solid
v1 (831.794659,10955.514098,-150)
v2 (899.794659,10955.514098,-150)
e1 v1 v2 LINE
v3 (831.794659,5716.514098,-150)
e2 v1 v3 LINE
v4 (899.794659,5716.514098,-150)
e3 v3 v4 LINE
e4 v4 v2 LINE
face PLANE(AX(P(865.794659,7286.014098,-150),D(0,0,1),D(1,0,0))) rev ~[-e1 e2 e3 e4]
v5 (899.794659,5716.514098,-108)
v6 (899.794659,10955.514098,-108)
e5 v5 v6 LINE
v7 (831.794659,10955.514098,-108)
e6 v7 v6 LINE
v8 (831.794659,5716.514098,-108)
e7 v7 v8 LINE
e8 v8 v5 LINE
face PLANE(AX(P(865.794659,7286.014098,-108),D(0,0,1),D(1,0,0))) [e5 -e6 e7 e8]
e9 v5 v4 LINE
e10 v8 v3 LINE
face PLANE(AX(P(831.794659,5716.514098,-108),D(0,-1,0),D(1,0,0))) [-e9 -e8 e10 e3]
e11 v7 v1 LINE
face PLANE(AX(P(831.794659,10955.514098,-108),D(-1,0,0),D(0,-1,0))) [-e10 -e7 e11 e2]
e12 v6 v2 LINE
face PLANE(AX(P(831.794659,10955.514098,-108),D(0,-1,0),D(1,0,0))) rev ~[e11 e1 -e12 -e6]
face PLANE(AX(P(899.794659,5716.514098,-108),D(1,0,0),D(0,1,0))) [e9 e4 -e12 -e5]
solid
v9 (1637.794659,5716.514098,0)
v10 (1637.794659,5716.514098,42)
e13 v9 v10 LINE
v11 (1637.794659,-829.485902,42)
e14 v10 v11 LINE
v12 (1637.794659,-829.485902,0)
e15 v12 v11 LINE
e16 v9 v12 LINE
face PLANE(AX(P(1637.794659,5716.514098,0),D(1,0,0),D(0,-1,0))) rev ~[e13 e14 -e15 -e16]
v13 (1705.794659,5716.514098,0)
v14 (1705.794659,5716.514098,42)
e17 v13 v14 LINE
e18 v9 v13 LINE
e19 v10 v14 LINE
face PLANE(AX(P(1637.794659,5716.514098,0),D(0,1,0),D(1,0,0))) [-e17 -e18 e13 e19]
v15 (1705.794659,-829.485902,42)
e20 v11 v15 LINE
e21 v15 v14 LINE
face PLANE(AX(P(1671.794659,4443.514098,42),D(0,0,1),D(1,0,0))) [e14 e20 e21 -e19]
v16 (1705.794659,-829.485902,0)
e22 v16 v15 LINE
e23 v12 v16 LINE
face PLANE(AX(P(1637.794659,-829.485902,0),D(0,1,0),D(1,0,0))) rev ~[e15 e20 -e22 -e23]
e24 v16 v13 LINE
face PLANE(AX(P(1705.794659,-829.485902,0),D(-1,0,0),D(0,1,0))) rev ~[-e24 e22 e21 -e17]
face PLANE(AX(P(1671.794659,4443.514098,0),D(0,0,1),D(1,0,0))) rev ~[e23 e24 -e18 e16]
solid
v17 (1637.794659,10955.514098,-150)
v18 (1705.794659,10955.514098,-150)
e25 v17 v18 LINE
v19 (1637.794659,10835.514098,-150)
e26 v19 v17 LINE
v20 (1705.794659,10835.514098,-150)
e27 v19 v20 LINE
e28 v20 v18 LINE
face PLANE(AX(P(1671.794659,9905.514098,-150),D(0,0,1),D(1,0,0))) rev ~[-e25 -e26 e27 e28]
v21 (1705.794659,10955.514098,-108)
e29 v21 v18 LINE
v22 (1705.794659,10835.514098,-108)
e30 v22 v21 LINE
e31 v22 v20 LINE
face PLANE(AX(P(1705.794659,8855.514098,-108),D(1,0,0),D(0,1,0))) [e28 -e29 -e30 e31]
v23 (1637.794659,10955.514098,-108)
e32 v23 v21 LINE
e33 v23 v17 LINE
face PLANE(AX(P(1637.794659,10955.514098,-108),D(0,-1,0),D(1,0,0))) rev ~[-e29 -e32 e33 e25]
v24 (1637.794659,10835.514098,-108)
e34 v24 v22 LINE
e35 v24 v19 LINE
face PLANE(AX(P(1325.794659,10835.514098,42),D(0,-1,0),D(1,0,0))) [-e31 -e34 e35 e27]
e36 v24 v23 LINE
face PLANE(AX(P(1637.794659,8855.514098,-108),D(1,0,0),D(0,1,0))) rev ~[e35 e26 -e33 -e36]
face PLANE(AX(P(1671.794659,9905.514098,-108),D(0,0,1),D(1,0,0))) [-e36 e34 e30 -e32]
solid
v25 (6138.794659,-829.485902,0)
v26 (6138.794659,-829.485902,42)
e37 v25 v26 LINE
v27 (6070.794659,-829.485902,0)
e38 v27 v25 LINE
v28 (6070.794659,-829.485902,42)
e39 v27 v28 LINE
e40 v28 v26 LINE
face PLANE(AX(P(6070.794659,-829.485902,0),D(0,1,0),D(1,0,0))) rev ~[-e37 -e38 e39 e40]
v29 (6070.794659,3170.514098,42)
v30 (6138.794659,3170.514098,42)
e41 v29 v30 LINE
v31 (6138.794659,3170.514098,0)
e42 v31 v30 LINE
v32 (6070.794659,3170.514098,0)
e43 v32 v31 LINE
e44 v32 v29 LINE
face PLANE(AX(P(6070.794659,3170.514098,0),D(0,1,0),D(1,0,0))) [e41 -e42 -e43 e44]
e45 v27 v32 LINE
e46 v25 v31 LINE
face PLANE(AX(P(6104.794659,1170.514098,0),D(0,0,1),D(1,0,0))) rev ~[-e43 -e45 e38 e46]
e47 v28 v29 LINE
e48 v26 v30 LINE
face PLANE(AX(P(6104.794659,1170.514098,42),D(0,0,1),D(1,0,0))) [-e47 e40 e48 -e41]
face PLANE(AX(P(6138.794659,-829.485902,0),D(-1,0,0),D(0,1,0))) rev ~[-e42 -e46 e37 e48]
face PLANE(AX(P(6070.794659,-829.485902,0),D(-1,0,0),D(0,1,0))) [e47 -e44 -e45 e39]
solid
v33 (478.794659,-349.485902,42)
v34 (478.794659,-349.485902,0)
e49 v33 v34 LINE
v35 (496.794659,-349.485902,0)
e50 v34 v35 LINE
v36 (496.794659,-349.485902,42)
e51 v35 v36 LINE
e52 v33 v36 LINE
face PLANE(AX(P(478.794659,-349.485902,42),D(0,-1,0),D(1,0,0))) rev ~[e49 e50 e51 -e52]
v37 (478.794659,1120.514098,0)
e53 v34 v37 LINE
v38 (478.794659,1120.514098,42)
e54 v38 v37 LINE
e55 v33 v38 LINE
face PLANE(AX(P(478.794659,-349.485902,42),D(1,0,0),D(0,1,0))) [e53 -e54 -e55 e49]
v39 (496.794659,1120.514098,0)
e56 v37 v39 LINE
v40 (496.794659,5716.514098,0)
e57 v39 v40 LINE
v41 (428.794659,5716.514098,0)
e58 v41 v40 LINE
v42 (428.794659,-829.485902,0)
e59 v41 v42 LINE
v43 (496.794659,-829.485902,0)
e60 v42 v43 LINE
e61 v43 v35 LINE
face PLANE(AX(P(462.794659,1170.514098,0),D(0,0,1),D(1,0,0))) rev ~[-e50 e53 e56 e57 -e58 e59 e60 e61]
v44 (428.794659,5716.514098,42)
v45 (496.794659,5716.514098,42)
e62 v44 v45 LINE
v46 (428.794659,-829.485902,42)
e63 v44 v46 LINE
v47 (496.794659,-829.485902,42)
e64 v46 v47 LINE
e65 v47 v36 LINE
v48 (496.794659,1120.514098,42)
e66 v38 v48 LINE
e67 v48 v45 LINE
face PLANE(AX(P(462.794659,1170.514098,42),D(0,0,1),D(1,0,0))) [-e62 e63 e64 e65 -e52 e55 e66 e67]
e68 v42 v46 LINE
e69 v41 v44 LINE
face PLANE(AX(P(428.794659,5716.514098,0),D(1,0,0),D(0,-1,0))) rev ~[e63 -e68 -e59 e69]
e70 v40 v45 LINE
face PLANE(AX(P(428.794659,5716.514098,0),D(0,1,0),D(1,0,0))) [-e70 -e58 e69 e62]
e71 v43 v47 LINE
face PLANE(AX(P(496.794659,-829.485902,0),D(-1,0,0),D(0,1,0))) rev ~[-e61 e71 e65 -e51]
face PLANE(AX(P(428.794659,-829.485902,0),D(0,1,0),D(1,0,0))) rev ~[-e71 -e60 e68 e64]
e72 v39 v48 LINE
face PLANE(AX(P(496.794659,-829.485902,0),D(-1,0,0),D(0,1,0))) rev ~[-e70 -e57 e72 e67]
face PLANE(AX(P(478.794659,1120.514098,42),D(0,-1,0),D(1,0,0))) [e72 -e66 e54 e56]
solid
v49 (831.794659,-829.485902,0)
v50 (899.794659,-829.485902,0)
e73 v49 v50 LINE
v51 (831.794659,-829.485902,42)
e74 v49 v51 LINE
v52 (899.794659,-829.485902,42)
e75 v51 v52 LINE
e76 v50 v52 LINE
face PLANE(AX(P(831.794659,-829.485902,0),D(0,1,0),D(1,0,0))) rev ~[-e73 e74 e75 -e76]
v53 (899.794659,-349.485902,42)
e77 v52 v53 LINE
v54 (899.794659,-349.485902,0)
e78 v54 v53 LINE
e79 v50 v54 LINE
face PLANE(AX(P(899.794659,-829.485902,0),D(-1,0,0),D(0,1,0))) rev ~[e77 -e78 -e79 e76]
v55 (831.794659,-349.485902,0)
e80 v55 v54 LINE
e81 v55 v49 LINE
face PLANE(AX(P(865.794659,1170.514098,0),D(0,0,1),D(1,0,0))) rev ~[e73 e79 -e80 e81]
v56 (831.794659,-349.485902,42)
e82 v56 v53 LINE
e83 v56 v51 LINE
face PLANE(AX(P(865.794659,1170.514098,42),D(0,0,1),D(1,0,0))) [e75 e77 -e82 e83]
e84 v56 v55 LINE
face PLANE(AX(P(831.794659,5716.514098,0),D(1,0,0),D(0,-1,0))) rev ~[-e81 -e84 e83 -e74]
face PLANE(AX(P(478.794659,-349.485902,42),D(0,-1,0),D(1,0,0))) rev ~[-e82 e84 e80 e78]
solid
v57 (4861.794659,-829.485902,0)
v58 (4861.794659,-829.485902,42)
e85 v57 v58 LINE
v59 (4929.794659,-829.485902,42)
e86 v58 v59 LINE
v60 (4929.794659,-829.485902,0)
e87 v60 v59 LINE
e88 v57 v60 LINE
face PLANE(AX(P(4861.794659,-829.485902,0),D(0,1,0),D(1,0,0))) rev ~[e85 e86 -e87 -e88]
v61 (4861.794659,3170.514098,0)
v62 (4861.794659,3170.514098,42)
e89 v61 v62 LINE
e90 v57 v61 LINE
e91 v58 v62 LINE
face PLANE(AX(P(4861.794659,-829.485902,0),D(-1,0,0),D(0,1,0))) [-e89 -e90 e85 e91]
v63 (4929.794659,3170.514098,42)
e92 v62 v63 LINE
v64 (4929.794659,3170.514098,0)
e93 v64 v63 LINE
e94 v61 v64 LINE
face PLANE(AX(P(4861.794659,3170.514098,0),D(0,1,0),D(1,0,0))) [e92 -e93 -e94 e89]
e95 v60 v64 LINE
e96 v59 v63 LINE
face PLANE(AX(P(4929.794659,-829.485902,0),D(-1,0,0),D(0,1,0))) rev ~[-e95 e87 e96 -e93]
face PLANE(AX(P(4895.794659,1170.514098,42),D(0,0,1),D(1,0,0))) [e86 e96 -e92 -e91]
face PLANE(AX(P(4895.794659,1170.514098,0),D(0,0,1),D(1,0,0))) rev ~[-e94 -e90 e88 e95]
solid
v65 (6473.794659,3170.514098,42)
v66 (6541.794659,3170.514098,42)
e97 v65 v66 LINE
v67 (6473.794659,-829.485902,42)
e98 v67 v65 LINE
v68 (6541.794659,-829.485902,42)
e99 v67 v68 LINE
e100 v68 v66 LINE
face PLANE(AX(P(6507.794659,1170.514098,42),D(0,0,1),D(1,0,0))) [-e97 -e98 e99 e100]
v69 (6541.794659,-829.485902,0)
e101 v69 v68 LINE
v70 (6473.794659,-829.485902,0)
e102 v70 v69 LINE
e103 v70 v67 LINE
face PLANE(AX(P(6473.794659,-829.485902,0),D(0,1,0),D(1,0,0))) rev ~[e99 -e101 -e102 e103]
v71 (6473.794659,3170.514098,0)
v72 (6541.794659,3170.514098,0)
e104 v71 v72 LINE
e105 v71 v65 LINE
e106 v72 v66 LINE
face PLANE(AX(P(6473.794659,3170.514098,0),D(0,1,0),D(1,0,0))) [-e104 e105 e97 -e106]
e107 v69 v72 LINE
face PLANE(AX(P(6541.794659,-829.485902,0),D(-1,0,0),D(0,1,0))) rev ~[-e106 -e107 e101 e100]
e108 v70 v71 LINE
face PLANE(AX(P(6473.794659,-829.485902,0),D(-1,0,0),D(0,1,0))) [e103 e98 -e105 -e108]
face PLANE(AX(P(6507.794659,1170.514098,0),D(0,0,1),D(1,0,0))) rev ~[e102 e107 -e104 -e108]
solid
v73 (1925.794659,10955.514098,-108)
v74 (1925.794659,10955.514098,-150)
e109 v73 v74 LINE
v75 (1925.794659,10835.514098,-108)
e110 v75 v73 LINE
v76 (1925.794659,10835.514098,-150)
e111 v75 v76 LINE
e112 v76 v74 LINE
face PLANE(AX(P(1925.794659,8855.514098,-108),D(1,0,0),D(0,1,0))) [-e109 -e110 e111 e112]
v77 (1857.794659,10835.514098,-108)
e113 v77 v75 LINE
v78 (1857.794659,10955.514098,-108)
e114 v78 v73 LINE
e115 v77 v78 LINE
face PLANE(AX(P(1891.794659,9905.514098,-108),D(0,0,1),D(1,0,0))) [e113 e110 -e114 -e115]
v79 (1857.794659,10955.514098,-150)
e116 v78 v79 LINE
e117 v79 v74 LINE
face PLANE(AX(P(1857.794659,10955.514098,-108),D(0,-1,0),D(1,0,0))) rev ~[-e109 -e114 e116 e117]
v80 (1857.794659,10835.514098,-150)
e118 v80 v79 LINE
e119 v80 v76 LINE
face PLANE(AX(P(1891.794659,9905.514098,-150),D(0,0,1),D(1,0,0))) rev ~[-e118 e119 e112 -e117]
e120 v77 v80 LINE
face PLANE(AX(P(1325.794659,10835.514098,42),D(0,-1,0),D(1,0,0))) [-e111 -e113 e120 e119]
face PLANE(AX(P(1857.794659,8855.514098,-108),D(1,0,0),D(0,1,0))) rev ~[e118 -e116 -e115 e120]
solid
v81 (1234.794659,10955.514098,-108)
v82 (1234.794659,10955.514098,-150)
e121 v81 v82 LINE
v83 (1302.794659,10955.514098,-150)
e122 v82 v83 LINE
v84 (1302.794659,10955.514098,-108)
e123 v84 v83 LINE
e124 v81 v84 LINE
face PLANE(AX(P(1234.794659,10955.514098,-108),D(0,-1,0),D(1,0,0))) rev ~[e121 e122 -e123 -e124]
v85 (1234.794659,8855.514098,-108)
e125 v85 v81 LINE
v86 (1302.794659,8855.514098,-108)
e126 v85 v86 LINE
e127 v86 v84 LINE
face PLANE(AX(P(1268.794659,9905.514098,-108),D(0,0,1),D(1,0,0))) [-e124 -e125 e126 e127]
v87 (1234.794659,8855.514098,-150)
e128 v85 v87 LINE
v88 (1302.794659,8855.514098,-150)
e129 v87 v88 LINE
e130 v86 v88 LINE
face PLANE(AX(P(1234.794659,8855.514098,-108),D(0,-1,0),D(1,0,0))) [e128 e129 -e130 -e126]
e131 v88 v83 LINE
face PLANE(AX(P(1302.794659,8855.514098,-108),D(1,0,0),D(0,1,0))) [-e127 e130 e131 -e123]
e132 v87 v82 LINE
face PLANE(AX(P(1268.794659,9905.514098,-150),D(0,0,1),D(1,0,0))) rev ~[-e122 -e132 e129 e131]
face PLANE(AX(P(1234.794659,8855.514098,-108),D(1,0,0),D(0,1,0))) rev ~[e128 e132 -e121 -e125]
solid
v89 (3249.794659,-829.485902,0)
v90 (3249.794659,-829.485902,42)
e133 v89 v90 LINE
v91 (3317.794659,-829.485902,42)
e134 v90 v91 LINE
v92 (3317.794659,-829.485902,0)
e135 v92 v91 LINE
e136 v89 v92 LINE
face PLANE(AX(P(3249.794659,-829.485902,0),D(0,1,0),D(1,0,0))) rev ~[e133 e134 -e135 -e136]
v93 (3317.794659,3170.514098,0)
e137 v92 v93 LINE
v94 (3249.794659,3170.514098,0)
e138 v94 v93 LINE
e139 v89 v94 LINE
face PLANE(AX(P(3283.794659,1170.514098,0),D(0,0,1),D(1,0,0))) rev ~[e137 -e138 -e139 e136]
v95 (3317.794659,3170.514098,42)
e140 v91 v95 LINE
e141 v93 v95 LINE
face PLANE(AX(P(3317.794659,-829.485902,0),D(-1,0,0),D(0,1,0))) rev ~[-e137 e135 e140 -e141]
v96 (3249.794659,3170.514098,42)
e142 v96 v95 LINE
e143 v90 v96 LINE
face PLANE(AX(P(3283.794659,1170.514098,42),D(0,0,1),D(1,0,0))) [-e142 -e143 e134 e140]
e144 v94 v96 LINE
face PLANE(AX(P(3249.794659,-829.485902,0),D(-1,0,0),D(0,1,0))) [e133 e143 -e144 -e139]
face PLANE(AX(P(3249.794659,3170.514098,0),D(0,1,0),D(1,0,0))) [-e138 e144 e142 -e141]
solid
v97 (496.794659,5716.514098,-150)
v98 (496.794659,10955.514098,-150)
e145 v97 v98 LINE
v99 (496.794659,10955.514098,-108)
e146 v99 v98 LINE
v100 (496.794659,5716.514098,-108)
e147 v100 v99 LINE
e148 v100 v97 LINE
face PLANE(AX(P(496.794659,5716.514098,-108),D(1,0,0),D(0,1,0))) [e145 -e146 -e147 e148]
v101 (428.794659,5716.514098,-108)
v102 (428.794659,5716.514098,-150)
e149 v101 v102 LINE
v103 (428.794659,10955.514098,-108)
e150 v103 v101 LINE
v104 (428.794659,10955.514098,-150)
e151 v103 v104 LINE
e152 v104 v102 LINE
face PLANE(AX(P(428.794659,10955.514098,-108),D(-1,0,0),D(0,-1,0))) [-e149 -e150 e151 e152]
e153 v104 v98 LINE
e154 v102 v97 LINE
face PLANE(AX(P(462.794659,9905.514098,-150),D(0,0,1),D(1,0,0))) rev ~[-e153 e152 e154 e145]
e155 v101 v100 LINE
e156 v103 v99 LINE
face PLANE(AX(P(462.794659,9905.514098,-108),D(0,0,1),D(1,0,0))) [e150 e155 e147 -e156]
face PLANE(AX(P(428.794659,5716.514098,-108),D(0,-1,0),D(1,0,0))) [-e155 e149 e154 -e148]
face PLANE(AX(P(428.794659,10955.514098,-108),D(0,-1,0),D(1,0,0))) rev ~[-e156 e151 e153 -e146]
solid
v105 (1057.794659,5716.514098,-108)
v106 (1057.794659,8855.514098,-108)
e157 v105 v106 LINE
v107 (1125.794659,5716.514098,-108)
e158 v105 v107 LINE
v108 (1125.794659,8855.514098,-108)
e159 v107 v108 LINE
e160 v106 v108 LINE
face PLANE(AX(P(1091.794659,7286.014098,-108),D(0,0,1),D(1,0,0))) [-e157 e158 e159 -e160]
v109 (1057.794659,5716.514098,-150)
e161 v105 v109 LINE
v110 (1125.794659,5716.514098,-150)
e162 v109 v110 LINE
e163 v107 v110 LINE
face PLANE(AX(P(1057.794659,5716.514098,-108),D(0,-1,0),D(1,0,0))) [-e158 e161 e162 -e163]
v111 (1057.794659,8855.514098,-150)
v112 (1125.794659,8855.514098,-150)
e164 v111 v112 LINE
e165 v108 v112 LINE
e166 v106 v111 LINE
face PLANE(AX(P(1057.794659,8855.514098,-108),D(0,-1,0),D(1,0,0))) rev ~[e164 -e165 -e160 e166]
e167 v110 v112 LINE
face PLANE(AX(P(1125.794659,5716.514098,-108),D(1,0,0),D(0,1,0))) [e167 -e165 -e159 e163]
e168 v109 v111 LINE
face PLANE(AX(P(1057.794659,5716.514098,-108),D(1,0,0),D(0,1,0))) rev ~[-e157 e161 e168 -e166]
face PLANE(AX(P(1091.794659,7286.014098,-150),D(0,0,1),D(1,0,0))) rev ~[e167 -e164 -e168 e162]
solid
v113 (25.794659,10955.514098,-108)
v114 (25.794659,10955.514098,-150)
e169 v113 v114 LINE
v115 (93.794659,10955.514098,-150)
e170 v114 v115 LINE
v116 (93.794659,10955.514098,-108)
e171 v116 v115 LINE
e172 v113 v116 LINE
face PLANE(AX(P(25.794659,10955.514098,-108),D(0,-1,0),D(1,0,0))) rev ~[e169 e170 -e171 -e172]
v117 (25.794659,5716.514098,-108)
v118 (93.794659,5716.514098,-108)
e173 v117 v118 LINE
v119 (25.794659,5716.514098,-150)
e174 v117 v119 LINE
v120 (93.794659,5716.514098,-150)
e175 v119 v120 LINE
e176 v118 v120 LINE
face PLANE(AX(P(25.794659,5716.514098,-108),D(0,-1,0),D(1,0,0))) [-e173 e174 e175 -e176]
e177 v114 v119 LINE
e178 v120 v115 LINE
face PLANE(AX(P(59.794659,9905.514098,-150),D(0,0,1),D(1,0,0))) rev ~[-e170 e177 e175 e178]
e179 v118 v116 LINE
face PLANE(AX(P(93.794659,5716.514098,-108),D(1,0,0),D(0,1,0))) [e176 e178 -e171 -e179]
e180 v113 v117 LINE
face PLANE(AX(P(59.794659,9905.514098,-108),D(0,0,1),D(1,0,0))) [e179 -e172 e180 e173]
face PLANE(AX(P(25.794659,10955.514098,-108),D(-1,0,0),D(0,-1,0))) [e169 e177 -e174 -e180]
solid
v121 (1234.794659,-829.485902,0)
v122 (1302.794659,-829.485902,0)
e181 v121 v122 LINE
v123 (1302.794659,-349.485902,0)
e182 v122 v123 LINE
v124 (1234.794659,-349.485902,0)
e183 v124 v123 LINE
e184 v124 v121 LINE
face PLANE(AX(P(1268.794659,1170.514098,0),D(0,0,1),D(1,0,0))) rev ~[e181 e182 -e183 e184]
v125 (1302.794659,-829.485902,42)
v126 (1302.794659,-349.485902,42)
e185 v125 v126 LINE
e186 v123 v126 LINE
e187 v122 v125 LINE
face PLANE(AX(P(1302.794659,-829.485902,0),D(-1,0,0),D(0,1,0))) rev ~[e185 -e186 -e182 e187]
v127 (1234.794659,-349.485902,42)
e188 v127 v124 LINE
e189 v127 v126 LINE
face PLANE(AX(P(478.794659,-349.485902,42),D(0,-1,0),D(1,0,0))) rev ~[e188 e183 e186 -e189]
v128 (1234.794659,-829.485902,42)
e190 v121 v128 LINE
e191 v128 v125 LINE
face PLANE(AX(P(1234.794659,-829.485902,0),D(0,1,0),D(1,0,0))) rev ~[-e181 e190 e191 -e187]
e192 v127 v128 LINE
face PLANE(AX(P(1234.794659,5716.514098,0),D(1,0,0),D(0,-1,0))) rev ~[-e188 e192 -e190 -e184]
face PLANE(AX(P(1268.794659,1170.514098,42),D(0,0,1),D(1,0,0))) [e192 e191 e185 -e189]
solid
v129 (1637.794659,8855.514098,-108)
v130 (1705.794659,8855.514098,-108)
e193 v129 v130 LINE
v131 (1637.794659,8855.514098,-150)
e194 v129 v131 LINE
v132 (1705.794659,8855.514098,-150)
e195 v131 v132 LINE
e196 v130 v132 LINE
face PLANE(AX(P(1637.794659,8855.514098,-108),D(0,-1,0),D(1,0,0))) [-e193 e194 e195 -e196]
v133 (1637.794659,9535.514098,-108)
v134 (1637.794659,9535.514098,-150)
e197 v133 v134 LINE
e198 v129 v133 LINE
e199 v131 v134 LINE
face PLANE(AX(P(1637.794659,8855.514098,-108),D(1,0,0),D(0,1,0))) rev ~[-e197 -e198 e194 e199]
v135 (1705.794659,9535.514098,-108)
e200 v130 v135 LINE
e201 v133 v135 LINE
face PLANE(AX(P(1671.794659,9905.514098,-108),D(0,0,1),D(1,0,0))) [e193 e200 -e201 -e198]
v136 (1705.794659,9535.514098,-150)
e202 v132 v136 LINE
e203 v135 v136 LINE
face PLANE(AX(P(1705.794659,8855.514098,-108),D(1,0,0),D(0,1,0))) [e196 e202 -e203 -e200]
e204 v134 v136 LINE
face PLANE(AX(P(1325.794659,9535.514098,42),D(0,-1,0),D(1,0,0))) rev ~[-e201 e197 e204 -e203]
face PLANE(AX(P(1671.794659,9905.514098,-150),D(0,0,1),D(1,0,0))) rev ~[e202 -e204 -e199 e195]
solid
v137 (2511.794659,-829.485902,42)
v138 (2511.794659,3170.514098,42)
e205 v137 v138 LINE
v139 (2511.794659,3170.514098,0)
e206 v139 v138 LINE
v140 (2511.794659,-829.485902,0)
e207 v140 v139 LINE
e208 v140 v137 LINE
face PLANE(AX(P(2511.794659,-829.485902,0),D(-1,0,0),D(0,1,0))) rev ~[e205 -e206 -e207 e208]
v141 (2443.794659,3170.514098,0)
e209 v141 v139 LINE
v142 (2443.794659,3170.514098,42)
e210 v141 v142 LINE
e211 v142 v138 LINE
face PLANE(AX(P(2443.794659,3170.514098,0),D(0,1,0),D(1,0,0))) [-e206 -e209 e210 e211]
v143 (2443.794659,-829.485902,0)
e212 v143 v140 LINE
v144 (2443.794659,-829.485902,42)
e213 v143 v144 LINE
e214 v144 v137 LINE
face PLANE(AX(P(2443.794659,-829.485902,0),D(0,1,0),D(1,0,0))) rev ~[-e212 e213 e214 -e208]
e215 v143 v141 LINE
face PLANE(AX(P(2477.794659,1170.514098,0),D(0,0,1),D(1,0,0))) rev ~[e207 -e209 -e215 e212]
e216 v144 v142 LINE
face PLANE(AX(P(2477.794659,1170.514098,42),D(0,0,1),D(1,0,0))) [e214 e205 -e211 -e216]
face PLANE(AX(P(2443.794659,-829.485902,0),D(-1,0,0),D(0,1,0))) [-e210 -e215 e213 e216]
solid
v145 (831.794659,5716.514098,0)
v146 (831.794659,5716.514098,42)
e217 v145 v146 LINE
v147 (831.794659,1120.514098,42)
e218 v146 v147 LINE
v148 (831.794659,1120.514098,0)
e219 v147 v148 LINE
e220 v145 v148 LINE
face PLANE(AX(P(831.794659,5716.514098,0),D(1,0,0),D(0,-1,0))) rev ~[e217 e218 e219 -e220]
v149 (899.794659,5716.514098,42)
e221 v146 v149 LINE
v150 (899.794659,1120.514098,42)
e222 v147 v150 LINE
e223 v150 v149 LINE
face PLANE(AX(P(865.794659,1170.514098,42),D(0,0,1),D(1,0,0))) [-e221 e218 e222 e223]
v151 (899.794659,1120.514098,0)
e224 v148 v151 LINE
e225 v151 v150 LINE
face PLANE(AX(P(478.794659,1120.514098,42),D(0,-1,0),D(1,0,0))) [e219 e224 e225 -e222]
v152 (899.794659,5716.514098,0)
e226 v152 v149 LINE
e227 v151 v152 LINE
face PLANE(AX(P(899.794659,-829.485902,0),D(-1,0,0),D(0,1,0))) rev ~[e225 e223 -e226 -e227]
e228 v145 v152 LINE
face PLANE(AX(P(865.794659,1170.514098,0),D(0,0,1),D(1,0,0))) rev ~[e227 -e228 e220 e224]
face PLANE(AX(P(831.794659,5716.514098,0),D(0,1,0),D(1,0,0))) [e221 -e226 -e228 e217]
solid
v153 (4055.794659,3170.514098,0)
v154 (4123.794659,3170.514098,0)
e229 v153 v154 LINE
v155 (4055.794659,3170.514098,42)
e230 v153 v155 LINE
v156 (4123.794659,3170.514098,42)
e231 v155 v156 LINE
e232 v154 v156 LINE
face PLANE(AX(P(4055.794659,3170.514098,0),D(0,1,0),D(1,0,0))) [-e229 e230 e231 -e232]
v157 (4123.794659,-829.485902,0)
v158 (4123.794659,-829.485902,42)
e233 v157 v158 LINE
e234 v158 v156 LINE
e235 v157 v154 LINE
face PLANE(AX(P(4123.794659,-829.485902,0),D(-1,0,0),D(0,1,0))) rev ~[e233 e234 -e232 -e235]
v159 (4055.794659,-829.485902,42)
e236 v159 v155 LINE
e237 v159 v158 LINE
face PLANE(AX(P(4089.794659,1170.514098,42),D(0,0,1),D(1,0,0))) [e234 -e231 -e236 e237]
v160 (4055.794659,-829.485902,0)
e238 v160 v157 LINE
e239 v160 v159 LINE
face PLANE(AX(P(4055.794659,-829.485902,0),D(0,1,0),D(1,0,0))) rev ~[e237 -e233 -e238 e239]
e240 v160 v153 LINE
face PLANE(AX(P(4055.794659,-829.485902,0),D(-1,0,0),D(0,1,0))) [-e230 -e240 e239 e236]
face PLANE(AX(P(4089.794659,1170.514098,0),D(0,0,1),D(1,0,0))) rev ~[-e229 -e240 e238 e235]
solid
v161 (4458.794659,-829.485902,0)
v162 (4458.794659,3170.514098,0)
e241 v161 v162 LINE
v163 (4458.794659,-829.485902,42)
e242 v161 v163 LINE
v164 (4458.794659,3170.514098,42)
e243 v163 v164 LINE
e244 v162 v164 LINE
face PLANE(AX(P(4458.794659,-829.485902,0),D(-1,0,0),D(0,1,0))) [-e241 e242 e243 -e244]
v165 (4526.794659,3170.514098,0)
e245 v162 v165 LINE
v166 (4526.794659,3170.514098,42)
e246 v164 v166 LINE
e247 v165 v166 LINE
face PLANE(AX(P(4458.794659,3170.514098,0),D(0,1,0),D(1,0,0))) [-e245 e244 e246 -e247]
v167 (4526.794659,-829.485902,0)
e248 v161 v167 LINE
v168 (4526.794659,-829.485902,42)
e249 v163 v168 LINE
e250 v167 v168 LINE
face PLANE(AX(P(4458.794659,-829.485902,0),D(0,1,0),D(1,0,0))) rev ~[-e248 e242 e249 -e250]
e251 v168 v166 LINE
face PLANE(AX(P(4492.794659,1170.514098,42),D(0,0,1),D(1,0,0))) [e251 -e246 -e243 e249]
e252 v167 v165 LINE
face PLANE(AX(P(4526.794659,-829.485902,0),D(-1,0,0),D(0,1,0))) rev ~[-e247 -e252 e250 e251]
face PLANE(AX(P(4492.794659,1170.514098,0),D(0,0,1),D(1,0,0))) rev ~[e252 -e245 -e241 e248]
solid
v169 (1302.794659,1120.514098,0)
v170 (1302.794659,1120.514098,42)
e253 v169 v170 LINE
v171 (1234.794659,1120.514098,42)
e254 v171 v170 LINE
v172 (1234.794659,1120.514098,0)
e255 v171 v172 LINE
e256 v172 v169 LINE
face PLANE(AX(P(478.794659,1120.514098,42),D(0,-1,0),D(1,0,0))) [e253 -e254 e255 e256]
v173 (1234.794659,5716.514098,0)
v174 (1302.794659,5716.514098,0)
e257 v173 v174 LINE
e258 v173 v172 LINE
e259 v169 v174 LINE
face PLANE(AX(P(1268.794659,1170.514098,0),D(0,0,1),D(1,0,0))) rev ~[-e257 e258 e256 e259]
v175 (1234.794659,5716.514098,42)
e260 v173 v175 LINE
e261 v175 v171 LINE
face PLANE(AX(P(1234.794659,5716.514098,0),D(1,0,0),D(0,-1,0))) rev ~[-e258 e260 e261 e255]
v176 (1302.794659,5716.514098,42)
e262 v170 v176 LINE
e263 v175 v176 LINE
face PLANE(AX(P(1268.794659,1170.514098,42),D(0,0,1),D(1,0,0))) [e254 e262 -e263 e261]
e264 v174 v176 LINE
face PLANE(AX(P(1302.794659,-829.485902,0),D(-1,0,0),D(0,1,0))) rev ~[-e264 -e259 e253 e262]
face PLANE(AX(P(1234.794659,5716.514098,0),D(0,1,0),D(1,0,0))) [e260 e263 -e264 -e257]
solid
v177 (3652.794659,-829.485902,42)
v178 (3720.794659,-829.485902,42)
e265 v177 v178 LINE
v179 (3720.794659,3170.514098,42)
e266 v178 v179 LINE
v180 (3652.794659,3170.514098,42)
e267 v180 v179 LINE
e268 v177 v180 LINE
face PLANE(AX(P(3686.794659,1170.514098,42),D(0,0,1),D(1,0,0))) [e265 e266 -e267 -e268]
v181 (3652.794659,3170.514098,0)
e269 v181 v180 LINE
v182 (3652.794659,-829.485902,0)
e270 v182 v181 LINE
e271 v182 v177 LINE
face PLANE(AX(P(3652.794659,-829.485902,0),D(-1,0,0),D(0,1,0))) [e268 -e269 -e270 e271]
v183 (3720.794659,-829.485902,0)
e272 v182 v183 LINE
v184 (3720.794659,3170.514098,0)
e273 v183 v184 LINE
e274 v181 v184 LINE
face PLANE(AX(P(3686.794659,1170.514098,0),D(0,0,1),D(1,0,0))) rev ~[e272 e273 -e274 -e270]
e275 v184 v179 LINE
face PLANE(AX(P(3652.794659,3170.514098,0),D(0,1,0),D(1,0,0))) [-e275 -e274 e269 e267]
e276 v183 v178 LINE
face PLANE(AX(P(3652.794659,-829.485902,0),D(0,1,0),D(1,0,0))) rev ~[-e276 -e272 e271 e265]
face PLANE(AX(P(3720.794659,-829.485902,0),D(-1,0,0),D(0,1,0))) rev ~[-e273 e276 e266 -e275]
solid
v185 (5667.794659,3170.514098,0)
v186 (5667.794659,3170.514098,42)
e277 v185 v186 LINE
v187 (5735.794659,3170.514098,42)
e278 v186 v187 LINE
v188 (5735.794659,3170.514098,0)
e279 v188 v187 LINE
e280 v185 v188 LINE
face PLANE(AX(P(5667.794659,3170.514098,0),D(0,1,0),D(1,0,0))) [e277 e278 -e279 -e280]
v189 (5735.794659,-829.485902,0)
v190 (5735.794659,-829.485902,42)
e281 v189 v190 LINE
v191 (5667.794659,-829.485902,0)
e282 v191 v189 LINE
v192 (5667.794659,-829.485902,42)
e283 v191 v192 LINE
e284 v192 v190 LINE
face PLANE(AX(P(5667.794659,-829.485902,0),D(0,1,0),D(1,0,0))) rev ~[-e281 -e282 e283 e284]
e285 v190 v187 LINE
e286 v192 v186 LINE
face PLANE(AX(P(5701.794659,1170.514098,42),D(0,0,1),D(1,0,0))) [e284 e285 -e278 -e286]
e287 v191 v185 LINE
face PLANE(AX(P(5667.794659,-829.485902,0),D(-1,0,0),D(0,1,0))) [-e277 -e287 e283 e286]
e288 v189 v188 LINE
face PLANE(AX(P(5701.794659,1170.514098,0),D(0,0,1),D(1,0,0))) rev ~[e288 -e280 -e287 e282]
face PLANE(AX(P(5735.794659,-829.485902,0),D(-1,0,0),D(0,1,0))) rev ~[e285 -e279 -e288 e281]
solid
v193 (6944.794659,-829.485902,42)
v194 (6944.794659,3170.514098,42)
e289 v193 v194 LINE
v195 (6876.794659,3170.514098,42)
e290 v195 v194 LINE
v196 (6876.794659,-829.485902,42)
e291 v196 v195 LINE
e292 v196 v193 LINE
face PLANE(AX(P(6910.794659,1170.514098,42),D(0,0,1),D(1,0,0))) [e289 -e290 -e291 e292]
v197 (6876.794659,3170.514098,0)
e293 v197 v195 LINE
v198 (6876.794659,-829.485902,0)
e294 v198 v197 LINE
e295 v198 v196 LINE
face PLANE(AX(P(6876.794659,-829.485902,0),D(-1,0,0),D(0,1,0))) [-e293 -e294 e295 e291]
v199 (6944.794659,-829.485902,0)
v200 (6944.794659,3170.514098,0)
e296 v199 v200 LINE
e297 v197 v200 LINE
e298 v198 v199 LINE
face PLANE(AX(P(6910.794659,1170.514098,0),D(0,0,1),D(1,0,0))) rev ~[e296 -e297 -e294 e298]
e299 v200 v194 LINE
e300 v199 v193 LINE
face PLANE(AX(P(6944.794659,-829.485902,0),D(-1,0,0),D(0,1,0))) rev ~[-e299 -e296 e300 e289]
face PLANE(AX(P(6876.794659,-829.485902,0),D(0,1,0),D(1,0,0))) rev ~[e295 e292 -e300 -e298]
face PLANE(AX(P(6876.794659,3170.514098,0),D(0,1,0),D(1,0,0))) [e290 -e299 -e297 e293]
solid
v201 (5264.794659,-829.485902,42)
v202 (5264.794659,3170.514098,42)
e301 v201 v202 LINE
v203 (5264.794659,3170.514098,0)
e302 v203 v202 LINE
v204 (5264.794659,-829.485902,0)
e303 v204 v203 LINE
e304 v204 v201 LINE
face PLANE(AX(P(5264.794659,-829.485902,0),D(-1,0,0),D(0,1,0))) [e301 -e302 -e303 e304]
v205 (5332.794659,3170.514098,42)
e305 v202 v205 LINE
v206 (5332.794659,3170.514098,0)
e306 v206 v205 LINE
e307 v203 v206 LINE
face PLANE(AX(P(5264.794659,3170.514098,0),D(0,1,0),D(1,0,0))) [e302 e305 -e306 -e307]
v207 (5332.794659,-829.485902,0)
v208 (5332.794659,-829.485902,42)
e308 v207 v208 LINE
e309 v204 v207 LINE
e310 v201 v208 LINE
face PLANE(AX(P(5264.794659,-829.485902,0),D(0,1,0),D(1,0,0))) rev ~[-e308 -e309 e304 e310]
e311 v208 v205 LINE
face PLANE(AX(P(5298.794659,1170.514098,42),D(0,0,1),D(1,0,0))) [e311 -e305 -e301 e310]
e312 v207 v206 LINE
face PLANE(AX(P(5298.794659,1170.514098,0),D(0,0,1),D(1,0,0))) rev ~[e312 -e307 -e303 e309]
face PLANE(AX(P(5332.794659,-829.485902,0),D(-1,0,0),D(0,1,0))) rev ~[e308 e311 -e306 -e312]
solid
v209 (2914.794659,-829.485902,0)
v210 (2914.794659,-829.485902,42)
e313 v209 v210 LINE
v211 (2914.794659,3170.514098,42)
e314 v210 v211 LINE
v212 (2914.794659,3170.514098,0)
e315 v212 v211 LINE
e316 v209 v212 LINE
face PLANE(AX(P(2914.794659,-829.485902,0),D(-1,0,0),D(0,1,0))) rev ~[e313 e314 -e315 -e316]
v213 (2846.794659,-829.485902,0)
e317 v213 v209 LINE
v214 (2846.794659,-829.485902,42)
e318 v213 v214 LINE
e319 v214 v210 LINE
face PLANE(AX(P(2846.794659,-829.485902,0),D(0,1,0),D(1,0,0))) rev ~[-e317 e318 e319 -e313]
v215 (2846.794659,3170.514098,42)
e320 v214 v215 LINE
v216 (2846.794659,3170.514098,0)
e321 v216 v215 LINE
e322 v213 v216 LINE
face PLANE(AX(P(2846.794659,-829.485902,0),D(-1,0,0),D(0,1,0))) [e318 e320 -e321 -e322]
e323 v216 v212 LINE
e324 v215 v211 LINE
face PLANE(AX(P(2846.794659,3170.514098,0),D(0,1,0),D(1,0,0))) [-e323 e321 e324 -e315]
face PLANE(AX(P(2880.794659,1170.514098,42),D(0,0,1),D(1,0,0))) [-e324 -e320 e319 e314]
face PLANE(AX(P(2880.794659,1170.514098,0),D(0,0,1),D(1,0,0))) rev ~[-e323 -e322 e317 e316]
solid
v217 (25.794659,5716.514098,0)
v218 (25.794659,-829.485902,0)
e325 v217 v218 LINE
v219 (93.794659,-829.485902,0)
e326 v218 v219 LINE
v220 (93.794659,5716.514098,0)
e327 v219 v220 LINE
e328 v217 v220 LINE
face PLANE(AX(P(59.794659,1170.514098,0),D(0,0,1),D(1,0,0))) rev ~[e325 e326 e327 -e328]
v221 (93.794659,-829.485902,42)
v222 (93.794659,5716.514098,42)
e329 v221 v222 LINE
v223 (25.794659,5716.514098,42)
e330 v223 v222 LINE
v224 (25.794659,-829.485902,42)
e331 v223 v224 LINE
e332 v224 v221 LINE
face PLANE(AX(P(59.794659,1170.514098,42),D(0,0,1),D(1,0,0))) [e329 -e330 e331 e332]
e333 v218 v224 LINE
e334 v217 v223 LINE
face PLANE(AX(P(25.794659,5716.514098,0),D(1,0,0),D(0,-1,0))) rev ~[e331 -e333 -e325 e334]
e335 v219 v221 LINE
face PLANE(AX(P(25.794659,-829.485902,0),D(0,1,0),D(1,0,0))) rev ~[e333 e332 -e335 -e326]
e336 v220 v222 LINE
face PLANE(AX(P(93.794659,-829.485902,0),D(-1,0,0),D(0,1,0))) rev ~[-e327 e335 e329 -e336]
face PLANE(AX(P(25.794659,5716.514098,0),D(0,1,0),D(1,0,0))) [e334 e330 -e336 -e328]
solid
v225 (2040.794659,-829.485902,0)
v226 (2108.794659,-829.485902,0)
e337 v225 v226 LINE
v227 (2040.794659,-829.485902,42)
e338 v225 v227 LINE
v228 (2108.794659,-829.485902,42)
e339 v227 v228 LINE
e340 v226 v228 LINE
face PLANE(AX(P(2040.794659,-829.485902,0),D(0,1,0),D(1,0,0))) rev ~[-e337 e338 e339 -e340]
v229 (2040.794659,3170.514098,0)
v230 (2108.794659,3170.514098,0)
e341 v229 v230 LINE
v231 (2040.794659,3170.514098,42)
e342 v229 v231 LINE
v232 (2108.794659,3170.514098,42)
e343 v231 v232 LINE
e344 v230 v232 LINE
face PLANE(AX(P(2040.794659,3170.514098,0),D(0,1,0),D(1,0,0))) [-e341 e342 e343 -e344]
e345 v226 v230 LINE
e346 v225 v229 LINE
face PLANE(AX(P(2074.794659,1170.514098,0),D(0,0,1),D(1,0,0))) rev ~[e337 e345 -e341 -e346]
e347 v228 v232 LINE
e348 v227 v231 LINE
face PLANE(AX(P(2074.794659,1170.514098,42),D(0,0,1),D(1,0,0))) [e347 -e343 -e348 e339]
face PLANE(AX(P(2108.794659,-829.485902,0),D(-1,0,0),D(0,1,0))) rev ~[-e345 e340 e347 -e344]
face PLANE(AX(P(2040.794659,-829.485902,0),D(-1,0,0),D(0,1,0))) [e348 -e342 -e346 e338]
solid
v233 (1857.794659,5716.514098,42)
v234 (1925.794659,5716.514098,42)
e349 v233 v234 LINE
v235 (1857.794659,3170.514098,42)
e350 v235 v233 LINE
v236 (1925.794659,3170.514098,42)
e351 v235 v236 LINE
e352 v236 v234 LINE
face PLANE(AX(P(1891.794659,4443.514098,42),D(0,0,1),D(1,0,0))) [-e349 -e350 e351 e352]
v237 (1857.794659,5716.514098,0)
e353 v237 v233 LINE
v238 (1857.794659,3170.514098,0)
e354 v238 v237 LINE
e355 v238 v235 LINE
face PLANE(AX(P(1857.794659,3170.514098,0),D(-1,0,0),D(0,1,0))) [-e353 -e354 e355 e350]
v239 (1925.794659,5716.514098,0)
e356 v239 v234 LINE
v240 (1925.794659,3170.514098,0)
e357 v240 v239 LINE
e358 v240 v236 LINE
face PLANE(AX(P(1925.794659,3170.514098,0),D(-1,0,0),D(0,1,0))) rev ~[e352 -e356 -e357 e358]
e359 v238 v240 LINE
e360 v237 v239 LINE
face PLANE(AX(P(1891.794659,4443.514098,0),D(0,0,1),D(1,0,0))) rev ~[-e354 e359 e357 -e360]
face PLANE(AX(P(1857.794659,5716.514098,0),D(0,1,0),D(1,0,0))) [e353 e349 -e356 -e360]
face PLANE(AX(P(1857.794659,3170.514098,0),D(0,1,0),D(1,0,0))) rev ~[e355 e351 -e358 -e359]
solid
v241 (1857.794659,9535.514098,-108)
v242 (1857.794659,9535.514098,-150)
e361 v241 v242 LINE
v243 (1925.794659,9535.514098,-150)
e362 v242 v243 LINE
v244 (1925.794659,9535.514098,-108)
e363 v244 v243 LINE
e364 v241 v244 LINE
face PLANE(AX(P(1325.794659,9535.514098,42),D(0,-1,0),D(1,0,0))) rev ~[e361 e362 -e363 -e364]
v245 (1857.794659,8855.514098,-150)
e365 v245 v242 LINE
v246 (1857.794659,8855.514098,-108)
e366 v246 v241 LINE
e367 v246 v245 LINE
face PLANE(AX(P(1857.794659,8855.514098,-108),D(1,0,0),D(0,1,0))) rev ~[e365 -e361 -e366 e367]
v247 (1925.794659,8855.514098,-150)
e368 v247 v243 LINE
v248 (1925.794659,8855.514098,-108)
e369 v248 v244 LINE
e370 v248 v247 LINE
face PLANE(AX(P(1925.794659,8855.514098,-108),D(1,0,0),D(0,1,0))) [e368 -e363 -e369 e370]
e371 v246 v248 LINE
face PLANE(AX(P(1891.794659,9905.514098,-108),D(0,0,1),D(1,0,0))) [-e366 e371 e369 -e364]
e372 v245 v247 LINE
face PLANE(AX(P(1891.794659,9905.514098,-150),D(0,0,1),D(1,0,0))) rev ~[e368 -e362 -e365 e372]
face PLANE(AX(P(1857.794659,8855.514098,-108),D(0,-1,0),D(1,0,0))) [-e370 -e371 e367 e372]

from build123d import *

# Parameters (mm, degrees)
F0_W     = 68
F0_H     = 4000
F0_H_2   = 2546
F1_DEPTH = 42
F2_START = -108
F0_H_3   = 2100
F2_DEPTH = 42
F0_H_4   = 3139
F3_W     = 600
F3_H     = 1300
F3_W_2   = 1000
F3_H_2   = 1470
F4_DEPTH = 1000


with BuildPart() as f1:
    # F0 (on Top) → F1 (new body)
    with BuildSketch(Plane.XY):
        with Locations((59.794658795, 1170.5140980401)):
            Rectangle(F0_W, F0_H)
        with Locations((59.794658795, 4443.5140980401)):
            Rectangle(F0_W, F0_H_2)
    extrude(amount=F1_DEPTH)


with BuildPart() as f1b:
    # F0 (on Top) → F1, piece 2 (new body)
    with BuildSketch(Plane.XY):
        with Locations((462.794658795, 1170.5140980401)):
            Rectangle(F0_W, F0_H)
        with Locations((462.794658795, 4443.5140980401)):
            Rectangle(F0_W, F0_H_2)
    extrude(amount=F1_DEPTH)


with BuildPart() as f1c:
    # F0 (on Top) → F1, piece 3 (new body)
    with BuildSketch(Plane.XY):
        with Locations((865.794658795, 1170.5140980401)):
            Rectangle(F0_W, F0_H)
        with Locations((865.794658795, 4443.5140980401)):
            Rectangle(F0_W, F0_H_2)
    extrude(amount=F1_DEPTH)


with BuildPart() as f1d:
    # F0 (on Top) → F1, piece 4 (new body)
    with BuildSketch(Plane.XY):
        with Locations((1268.794658795, 1170.5140980401)):
            Rectangle(F0_W, F0_H)
        with Locations((1268.794658795, 4443.5140980401)):
            Rectangle(F0_W, F0_H_2)
    extrude(amount=F1_DEPTH)


with BuildPart() as f1e:
    # F0 (on Top) → F1, piece 5 (new body)
    with BuildSketch(Plane.XY):
        with Locations((2477.794658795, 1170.5140980401)):
            Rectangle(F0_W, F0_H)
    extrude(amount=F1_DEPTH)


with BuildPart() as f1f:
    # F0 (on Top) → F1, piece 6 (new body)
    with BuildSketch(Plane.XY):
        with Locations((4089.794658795, 1170.5140980401)):
            Rectangle(F0_W, F0_H)
    extrude(amount=F1_DEPTH)


with BuildPart() as f1g:
    # F0 (on Top) → F1, piece 7 (new body)
    with BuildSketch(Plane.XY):
        with Locations((2880.794658795, 1170.5140980401)):
            Rectangle(F0_W, F0_H)
    extrude(amount=F1_DEPTH)


with BuildPart() as f1h:
    # F0 (on Top) → F1, piece 8 (new body)
    with BuildSketch(Plane.XY):
        with Locations((1671.794658795, 4443.5140980401)):
            Rectangle(F0_W, F0_H_2)
        with Locations((1671.794658795, 1170.5140980401)):
            Rectangle(F0_W, F0_H)
    extrude(amount=F1_DEPTH)


with BuildPart() as f1i:
    # F0 (on Top) → F1, piece 9 (new body)
    with BuildSketch(Plane.XY):
        with Locations((2074.794658795, 1170.5140980401)):
            Rectangle(F0_W, F0_H)
    extrude(amount=F1_DEPTH)


with BuildPart() as f1j:
    # F0 (on Top) → F1, piece 10 (new body)
    with BuildSketch(Plane.XY):
        with Locations((5298.794658795, 1170.5140980401)):
            Rectangle(F0_W, F0_H)
    extrude(amount=F1_DEPTH)


with BuildPart() as f1k:
    # F0 (on Top) → F1, piece 11 (new body)
    with BuildSketch(Plane.XY):
        with Locations((5701.794658795, 1170.5140980401)):
            Rectangle(F0_W, F0_H)
    extrude(amount=F1_DEPTH)


with BuildPart() as f1l:
    # F0 (on Top) → F1, piece 12 (new body)
    with BuildSketch(Plane.XY):
        with Locations((4492.794658795, 1170.5140980401)):
            Rectangle(F0_W, F0_H)
    extrude(amount=F1_DEPTH)


with BuildPart() as f1m:
    # F0 (on Top) → F1, piece 13 (new body)
    with BuildSketch(Plane.XY):
        with Locations((3283.794658795, 1170.5140980401)):
            Rectangle(F0_W, F0_H)
    extrude(amount=F1_DEPTH)


with BuildPart() as f1n:
    # F0 (on Top) → F1, piece 14 (new body)
    with BuildSketch(Plane.XY):
        with Locations((4895.794658795, 1170.5140980401)):
            Rectangle(F0_W, F0_H)
    extrude(amount=F1_DEPTH)


with BuildPart() as f1o:
    # F0 (on Top) → F1, piece 15 (new body)
    with BuildSketch(Plane.XY):
        with Locations((3686.794658795, 1170.5140980401)):
            Rectangle(F0_W, F0_H)
    extrude(amount=F1_DEPTH)


with BuildPart() as f1p:
    # F0 (on Top) → F1, piece 16 (new body)
    with BuildSketch(Plane.XY):
        with Locations((6910.794658795, 1170.5140980401)):
            Rectangle(F0_W, F0_H)
    extrude(amount=F1_DEPTH)


with BuildPart() as f1q:
    # F0 (on Top) → F1, piece 17 (new body)
    with BuildSketch(Plane.XY):
        with Locations((1891.794658795, 4443.5140980401)):
            Rectangle(F0_W, F0_H_2)
    extrude(amount=F1_DEPTH)


with BuildPart() as f1r:
    # F0 (on Top) → F1, piece 18 (new body)
    with BuildSketch(Plane.XY):
        with Locations((6507.794658795, 1170.5140980401)):
            Rectangle(F0_W, F0_H)
    extrude(amount=F1_DEPTH)


with BuildPart() as f1s:
    # F0 (on Top) → F1, piece 19 (new body)
    with BuildSketch(Plane.XY):
        with Locations((6104.794658795, 1170.5140980401)):
            Rectangle(F0_W, F0_H)
    extrude(amount=F1_DEPTH)


with BuildPart() as f2:
    # F0 (on Top) → F2 (new body)
    with BuildSketch(Plane.XY.offset(F2_START)):
        with Locations((1671.794658795, 9905.5140980401)):
            Rectangle(F0_W, F0_H_3)
    extrude(amount=-F2_DEPTH)


with BuildPart() as f2b:
    # F0 (on Top) → F2, piece 2 (new body)
    with BuildSketch(Plane.XY.offset(F2_START)):
        with Locations((1268.794658795, 9905.5140980401)):
            Rectangle(F0_W, F0_H_3)
    extrude(amount=-F2_DEPTH)


with BuildPart() as f2c:
    # F0 (on Top) → F2, piece 3 (new body)
    with BuildSketch(Plane.XY.offset(F2_START)):
        with Locations((865.794658795, 7286.0140980401)):
            Rectangle(F0_W, F0_H_4)
        with Locations((865.794658795, 9905.5140980401)):
            Rectangle(F0_W, F0_H_3)
    extrude(amount=-F2_DEPTH)


with BuildPart() as f2d:
    # F0 (on Top) → F2, piece 4 (new body)
    with BuildSketch(Plane.XY.offset(F2_START)):
        with Locations((1091.794658795, 7286.0140980401)):
            Rectangle(F0_W, F0_H_4)
    extrude(amount=-F2_DEPTH)


with BuildPart() as f2e:
    # F0 (on Top) → F2, piece 5 (new body)
    with BuildSketch(Plane.XY.offset(F2_START)):
        with Locations((462.794658795, 9905.5140980401)):
            Rectangle(F0_W, F0_H_3)
        with Locations((462.794658795, 7286.0140980401)):
            Rectangle(F0_W, F0_H_4)
    extrude(amount=-F2_DEPTH)


with BuildPart() as f2f:
    # F0 (on Top) → F2, piece 6 (new body)
    with BuildSketch(Plane.XY.offset(F2_START)):
        with Locations((59.794658795, 9905.5140980401)):
            Rectangle(F0_W, F0_H_3)
        with Locations((59.794658795, 7286.0140980401)):
            Rectangle(F0_W, F0_H_4)
    extrude(amount=-F2_DEPTH)


with BuildPart() as f2g:
    # F0 (on Top) → F2, piece 7 (new body)
    with BuildSketch(Plane.XY.offset(F2_START)):
        with Locations((1891.794658795, 9905.5140980401)):
            Rectangle(F0_W, F0_H_3)
    extrude(amount=-F2_DEPTH)


with BuildPart() as f4_tool:
    # F3 (on face) → F4 (new body)
    with BuildSketch(Plane.XY.offset(42)):
        with Locations((1625.794658795, 10185.5140980401)):
            Rectangle(F3_W, F3_H)
        with Locations((978.794658795, 385.5140980401)):
            Rectangle(F3_W_2, F3_H_2)
    extrude(amount=-F4_DEPTH)


with BuildPart() as f1b_1:
    add(f1b.part)

    # F4: cut by f4_tool
    add(f4_tool.part, mode=Mode.SUBTRACT)


with BuildPart() as f1c_1:
    add(f1c.part)

    # F4: cut by f4_tool
    add(f4_tool.part, mode=Mode.SUBTRACT)


with BuildPart() as f1d_1:
    add(f1d.part)

    # F4: cut by f4_tool
    add(f4_tool.part, mode=Mode.SUBTRACT)


with BuildPart() as f2_1:
    add(f2.part)

    # F4: cut by f4_tool
    add(f4_tool.part, mode=Mode.SUBTRACT)


with BuildPart() as f2g_1:
    add(f2g.part)

    # F4: cut by f4_tool
    add(f4_tool.part, mode=Mode.SUBTRACT)


solid = Compound([f1.part, f1e.part, f1f.part, f1g.part, f1h.part, f1i.part, f1j.part, f1k.part, f1l.part, f1m.part, f1n.part, f1o.part, f1p.part, f1q.part, f1r.part, f1s.part, f2b.part, f2c.part, f2d.part, f2e.part, f2f.part, f1b_1.part, f1c_1.part, f1d_1.part, f2_1.part, f2g_1.part])
